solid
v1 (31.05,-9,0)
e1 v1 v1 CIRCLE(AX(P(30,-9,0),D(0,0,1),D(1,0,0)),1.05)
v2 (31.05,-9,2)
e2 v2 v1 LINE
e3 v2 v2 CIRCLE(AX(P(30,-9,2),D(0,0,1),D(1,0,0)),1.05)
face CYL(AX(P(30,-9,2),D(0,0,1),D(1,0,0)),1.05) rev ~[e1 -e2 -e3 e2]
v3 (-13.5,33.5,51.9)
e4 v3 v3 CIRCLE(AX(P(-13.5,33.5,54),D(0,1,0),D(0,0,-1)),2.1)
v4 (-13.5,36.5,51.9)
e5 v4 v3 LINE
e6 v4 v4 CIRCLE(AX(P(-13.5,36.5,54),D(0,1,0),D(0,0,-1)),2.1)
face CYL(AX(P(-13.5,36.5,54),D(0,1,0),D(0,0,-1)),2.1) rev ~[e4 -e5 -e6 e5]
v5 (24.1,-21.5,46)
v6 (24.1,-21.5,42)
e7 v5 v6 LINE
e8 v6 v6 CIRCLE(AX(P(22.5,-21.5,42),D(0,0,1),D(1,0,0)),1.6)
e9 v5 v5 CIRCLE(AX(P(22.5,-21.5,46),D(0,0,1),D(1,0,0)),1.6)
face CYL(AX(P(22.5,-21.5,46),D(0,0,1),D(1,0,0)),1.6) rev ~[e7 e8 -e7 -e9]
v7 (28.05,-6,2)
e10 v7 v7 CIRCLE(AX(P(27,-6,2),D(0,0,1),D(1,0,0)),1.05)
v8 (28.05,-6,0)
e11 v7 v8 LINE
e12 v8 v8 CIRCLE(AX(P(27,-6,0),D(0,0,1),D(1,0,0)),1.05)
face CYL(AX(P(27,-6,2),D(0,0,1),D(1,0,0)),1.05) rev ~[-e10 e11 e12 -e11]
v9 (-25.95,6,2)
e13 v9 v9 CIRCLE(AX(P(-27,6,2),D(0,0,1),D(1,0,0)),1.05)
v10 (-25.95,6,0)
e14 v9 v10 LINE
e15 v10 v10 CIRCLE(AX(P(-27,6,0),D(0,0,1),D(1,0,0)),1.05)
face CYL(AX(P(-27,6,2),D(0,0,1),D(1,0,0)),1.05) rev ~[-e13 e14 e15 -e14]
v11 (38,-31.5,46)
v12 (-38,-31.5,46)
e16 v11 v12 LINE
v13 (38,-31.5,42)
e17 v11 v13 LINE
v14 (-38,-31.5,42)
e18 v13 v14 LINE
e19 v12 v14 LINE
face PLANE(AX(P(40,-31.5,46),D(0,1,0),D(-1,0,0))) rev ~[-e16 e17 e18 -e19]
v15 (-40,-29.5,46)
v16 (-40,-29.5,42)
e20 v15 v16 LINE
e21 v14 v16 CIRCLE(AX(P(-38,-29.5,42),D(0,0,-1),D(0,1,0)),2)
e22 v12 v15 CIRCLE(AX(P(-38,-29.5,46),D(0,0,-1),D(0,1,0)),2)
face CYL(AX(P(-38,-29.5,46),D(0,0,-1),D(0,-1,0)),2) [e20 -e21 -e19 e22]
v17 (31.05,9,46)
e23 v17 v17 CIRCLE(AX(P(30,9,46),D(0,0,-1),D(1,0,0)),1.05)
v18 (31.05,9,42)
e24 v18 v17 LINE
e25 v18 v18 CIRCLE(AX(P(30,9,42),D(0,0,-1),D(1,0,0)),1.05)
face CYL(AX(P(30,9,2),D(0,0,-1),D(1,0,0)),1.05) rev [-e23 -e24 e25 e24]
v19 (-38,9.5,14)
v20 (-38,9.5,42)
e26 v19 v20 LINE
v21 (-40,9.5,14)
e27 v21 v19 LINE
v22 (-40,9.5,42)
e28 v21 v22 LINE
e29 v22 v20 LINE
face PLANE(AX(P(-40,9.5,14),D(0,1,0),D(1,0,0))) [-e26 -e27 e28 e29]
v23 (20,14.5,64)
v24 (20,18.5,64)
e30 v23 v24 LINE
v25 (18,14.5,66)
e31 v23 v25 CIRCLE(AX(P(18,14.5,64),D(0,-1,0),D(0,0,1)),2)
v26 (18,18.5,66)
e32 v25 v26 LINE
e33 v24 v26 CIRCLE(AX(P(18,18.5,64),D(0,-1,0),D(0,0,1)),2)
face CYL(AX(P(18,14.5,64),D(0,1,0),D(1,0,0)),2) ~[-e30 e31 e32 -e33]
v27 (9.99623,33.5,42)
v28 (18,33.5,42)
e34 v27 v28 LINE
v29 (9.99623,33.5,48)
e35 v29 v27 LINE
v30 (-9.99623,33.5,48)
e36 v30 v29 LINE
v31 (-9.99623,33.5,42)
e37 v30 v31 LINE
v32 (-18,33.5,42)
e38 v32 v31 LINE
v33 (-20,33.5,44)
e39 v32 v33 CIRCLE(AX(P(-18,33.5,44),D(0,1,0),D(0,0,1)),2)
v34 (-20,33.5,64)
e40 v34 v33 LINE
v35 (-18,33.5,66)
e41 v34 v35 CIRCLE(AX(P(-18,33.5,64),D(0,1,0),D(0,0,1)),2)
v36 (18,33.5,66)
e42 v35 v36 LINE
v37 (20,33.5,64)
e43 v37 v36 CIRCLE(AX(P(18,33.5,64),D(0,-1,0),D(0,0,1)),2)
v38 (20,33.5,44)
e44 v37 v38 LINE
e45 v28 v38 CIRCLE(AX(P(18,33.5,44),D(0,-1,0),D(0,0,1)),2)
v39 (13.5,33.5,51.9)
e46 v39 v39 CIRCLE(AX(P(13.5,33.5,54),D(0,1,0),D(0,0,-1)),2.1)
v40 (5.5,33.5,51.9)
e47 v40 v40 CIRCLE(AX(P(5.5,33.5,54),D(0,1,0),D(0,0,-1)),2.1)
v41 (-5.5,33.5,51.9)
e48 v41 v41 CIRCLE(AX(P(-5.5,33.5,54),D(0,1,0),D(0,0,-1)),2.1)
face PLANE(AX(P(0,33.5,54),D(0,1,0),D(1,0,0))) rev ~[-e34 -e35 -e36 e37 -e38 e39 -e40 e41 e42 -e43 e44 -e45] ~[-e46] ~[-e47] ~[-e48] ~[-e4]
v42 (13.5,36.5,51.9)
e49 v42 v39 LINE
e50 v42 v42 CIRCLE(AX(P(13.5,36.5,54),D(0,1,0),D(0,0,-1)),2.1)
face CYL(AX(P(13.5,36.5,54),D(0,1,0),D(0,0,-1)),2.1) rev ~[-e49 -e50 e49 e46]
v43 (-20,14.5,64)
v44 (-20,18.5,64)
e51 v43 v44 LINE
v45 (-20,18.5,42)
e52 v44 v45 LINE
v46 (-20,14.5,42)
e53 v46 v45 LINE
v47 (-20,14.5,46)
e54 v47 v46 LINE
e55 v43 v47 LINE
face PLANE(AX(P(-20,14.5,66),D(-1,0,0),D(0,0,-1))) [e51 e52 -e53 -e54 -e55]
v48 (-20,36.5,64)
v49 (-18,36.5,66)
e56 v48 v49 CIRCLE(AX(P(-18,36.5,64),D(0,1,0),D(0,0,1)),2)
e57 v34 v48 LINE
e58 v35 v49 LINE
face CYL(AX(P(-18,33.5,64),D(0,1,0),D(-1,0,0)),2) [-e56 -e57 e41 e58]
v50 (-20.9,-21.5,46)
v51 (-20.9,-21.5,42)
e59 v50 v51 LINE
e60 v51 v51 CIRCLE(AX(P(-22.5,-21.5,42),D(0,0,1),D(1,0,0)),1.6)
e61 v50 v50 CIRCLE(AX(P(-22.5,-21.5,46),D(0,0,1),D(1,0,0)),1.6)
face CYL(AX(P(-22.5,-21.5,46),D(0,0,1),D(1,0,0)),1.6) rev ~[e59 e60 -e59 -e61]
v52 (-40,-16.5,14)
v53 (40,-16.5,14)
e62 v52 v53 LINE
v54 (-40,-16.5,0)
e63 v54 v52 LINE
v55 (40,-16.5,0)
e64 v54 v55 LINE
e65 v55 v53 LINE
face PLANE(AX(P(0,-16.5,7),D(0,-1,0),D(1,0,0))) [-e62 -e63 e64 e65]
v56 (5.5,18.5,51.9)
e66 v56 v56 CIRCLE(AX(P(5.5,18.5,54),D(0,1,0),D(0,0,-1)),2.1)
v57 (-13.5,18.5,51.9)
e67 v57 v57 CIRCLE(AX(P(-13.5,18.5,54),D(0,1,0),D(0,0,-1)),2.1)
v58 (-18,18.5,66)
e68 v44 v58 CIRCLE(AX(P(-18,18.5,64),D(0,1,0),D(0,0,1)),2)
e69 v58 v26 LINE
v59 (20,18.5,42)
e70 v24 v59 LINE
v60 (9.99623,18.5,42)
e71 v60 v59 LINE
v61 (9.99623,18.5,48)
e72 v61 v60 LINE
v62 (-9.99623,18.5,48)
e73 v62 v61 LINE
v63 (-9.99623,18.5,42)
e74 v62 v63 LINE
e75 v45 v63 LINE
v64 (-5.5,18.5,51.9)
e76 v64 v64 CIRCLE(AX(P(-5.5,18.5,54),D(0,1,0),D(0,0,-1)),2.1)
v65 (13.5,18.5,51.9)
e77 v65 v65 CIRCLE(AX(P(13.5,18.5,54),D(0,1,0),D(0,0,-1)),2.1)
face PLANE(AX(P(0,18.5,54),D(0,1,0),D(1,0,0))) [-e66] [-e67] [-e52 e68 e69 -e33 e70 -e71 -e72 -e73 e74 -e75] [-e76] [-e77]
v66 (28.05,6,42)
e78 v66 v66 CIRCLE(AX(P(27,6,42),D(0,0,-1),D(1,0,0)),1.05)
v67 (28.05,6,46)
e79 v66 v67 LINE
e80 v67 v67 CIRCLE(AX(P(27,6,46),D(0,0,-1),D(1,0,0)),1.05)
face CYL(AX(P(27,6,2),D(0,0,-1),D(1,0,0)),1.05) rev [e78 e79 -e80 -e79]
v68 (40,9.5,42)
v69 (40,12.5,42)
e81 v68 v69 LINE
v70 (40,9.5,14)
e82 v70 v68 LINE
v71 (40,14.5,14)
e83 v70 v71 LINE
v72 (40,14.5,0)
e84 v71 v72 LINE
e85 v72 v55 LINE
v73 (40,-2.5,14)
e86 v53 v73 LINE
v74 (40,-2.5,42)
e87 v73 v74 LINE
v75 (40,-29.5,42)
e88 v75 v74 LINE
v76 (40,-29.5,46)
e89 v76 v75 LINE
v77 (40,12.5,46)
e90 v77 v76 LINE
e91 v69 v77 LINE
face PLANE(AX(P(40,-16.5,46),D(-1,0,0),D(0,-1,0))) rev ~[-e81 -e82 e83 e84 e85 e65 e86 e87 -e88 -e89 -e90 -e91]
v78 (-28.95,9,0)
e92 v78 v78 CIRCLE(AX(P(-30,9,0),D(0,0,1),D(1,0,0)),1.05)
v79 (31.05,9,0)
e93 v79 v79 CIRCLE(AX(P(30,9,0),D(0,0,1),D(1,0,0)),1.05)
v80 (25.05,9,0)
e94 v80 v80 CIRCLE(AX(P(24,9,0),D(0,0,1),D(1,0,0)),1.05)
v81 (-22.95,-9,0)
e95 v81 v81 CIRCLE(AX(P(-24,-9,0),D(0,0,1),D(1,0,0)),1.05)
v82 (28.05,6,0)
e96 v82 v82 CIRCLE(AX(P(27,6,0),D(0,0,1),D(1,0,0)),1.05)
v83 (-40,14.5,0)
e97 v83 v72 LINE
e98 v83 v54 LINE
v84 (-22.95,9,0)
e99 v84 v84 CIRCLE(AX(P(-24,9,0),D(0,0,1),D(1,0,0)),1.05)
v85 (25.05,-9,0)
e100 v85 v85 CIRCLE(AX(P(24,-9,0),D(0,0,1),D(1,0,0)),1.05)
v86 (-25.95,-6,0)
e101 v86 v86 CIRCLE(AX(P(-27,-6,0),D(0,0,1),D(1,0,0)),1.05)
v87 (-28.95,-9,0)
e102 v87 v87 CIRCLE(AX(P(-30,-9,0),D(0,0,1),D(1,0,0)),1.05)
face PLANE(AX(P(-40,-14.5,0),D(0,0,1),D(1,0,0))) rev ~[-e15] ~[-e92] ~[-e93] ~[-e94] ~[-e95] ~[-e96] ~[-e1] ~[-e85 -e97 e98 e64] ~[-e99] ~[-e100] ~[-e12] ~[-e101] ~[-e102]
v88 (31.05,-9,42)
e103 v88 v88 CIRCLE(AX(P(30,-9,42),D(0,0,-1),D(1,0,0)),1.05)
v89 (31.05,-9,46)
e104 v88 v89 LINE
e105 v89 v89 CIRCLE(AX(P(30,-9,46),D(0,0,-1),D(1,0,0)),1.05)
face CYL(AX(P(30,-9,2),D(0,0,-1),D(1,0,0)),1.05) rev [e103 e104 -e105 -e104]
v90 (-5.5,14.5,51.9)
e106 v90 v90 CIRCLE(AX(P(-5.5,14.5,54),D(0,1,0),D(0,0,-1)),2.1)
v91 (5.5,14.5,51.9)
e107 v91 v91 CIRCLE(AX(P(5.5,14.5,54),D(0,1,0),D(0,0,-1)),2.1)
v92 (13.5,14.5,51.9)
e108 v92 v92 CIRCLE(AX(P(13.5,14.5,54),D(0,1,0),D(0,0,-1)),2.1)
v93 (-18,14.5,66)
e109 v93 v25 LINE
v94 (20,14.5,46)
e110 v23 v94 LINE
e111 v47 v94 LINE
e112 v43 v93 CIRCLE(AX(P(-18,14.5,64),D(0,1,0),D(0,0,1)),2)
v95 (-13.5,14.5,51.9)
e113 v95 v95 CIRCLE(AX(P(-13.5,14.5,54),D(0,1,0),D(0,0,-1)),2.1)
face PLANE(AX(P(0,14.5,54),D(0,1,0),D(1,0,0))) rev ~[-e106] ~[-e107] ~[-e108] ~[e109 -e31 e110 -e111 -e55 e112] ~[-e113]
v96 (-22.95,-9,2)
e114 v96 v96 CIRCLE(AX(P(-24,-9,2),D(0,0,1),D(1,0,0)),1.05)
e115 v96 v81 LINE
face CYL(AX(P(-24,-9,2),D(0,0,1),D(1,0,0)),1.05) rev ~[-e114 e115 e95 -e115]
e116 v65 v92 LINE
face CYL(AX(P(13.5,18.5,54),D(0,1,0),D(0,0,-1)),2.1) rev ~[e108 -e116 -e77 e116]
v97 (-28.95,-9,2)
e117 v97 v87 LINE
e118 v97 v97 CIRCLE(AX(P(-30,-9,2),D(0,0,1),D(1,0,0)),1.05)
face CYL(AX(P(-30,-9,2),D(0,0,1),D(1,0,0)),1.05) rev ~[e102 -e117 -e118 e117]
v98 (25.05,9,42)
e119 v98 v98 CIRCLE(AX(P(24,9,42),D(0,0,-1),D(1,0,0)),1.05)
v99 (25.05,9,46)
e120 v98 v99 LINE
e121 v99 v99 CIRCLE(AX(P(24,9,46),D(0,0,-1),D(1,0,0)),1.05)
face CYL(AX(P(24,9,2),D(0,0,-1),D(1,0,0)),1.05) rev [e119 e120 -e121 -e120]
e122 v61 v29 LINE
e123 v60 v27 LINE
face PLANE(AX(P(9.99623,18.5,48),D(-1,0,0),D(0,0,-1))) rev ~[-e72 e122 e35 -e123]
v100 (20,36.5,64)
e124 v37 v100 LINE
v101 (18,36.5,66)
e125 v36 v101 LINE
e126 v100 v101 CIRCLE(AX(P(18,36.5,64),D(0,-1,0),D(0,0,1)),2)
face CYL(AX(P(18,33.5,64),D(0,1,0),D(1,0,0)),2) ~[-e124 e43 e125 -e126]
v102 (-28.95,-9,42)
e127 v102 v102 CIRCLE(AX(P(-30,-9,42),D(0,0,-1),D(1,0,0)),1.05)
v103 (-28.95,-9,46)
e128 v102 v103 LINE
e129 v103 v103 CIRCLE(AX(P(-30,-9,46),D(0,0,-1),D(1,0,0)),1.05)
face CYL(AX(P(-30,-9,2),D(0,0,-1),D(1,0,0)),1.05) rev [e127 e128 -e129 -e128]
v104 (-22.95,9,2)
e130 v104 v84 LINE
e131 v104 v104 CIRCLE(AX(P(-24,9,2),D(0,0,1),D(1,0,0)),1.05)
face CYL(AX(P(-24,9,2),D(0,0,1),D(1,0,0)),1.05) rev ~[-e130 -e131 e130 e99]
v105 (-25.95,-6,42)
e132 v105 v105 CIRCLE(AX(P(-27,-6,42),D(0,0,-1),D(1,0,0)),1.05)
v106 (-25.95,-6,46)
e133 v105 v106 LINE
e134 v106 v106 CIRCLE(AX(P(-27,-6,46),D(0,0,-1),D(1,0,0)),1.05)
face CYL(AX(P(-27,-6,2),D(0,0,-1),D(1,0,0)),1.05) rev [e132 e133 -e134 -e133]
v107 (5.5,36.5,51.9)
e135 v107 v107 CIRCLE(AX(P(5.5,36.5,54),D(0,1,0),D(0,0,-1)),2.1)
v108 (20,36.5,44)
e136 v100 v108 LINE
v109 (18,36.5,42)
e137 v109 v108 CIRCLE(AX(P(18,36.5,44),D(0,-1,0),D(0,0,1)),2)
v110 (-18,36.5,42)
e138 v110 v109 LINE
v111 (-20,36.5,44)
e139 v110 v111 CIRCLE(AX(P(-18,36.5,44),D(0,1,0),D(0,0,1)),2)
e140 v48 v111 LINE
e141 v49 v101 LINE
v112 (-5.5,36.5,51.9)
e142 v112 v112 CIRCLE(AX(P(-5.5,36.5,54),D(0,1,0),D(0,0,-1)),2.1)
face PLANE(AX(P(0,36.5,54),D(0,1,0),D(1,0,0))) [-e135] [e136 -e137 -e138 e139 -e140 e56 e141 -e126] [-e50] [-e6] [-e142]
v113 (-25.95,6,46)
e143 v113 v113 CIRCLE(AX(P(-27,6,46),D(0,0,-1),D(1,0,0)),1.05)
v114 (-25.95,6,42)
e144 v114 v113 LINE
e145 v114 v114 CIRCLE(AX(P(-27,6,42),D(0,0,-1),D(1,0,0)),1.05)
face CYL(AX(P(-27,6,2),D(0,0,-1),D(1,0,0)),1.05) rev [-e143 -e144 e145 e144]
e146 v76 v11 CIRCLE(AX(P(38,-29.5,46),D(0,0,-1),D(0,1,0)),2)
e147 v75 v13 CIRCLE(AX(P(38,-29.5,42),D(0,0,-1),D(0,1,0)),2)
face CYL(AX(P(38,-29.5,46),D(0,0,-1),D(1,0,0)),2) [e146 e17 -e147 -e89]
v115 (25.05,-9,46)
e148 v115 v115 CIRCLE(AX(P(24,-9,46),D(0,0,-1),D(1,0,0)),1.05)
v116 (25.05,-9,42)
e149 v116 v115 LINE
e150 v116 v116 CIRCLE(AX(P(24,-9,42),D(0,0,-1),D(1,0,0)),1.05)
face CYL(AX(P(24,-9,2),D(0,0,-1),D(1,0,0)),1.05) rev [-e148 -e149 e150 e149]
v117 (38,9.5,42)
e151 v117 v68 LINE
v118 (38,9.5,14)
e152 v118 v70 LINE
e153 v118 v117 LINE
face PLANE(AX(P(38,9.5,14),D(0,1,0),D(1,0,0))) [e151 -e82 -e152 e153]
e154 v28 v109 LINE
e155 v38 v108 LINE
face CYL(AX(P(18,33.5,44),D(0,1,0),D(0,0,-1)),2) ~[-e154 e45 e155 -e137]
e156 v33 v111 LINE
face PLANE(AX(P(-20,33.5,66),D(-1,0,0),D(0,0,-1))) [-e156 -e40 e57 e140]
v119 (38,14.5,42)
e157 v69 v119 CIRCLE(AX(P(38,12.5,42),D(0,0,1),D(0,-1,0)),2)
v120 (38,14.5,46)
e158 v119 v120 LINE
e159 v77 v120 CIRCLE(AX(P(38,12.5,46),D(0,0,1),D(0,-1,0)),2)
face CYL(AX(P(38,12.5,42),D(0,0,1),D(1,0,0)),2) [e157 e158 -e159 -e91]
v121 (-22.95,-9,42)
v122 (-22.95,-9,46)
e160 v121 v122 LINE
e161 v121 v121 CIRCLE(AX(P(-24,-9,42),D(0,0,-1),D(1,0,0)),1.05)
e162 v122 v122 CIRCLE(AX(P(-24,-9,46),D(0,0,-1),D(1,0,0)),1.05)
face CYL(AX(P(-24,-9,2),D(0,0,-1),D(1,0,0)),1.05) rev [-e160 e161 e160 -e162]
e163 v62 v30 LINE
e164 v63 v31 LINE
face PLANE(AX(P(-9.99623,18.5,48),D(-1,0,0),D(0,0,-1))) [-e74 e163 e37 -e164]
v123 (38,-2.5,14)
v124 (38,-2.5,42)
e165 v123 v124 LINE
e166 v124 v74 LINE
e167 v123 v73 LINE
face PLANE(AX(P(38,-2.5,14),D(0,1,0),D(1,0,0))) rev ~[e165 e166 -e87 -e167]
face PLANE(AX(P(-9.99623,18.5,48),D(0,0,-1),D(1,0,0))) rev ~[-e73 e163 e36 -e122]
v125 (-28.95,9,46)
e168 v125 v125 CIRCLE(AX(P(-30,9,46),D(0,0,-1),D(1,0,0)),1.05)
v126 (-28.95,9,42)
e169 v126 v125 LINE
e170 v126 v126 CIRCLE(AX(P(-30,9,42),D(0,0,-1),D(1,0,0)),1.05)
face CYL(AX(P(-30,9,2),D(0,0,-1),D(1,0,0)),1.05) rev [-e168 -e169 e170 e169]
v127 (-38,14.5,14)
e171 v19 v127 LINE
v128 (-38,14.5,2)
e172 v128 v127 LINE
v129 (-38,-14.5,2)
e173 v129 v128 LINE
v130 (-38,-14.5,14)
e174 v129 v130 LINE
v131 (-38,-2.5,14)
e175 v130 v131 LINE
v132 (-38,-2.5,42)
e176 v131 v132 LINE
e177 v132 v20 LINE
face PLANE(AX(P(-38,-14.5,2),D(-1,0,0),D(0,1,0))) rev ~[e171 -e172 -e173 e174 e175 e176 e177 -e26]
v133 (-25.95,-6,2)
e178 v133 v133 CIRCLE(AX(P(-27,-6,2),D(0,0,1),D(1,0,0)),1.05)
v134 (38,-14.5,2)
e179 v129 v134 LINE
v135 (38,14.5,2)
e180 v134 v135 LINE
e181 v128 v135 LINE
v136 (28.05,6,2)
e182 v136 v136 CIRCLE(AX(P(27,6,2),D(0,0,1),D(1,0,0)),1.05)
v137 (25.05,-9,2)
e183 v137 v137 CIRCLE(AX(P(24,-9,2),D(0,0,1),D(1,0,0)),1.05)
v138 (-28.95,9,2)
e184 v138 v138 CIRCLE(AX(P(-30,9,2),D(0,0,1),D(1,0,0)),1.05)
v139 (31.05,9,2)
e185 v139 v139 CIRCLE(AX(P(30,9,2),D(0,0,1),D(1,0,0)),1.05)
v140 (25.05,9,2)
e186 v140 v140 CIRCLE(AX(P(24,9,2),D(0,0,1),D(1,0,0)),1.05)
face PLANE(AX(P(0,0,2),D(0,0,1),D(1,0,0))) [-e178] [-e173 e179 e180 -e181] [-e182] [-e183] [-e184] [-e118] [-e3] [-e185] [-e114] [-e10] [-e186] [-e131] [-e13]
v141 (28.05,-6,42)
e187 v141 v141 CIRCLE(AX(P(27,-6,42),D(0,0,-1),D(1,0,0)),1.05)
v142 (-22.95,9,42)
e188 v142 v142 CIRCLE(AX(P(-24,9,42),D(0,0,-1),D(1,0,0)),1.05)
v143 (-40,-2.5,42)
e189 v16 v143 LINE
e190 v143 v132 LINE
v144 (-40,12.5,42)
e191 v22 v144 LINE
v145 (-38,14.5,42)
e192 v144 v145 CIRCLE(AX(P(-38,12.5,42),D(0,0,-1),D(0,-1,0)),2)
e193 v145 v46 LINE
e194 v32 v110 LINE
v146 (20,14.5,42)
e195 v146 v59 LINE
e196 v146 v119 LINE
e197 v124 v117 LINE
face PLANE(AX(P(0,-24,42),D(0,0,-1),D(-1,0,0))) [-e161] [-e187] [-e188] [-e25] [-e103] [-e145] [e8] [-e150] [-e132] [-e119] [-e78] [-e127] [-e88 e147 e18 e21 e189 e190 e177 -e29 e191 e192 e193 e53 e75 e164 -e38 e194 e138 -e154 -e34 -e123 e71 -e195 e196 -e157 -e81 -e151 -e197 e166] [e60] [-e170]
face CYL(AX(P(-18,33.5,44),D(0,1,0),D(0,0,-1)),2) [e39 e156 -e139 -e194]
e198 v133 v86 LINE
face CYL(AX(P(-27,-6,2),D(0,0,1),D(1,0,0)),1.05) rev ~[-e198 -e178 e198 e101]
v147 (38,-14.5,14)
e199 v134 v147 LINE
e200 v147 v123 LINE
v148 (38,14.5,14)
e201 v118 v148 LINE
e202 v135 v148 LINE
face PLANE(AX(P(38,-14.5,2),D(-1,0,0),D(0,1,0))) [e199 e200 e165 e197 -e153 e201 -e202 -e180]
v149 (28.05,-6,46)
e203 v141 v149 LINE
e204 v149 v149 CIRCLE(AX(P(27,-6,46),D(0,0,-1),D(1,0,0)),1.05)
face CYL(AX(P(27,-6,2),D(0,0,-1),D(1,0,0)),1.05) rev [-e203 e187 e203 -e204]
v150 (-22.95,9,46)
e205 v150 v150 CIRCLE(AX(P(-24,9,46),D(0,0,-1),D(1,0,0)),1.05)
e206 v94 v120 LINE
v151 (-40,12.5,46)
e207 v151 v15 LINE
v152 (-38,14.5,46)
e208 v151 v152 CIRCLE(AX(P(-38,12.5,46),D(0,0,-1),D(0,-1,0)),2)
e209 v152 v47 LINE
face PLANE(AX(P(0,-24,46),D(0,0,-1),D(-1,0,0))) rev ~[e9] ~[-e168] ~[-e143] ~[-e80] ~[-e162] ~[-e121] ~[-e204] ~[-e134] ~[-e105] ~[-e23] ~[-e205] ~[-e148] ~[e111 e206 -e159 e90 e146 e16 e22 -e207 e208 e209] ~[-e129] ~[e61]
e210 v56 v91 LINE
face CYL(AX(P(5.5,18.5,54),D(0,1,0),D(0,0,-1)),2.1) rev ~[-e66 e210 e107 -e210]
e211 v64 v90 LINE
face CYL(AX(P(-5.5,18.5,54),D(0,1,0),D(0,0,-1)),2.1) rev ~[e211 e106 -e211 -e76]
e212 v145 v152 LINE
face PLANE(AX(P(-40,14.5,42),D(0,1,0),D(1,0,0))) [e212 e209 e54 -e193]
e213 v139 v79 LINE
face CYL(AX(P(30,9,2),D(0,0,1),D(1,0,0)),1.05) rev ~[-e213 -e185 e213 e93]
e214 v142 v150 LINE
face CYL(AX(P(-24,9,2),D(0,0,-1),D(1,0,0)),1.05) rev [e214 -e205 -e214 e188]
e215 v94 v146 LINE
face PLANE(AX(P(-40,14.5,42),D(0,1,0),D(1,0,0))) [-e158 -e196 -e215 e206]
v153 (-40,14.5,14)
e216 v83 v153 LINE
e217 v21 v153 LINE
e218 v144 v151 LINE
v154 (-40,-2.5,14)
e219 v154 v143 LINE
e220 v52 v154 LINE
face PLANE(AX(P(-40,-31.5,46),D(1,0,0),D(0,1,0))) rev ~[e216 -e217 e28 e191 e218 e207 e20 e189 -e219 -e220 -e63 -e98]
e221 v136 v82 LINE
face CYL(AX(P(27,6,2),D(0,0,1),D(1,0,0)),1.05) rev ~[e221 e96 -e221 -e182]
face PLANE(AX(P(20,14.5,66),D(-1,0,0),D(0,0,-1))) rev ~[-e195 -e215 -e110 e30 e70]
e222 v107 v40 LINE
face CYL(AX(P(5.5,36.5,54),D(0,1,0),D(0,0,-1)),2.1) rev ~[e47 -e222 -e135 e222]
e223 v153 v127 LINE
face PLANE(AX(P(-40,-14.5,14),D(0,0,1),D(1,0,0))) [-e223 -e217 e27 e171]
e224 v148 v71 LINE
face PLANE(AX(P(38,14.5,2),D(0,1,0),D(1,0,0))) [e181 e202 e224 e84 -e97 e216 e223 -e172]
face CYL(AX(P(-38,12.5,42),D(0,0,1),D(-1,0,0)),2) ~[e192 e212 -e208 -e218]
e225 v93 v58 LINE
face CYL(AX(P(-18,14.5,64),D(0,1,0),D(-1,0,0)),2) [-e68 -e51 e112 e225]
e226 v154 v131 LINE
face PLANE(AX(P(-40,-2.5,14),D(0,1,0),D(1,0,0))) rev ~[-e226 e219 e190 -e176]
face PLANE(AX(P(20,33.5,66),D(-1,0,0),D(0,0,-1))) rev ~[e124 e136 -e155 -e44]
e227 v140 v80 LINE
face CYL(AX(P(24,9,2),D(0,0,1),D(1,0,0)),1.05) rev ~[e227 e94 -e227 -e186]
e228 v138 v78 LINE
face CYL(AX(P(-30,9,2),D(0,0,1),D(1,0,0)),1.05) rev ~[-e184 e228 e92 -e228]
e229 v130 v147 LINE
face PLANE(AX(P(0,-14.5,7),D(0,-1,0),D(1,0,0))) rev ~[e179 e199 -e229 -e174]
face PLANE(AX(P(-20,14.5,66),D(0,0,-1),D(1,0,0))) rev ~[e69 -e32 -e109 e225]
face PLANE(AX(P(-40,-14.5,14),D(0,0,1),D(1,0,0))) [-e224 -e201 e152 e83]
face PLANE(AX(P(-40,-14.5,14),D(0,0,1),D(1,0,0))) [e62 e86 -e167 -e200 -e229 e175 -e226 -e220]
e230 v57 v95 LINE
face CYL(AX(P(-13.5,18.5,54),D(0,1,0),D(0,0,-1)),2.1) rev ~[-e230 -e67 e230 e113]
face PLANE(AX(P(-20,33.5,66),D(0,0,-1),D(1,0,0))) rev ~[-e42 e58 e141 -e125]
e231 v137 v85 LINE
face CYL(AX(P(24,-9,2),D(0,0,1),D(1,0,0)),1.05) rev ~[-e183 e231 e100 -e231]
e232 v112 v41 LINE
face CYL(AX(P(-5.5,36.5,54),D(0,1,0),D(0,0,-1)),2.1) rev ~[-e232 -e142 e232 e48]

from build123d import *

# Parameters (mm, degrees)
SKETCH_1_W                      = 80
SKETCH_1_H                      = 29
EXTRUDE_1_DEPTH                 = 2
SKETCH_4_W                      = 2
SKETCH_4_H                      = 29
EXTRUDE_2_DEPTH                 = 12
SKETCH_6_W                      = 80
SKETCH_6_H                      = 14
EXTRUDE_4_DEPTH                 = 2
SKETCH_7_W                      = 2
SKETCH_7_H                      = 12
EXTRUDE_5_DEPTH                 = 28
SKETCH_8_W                      = 80
SKETCH_8_H                      = 31
EXTRUDE_6_DEPTH                 = 4
SKETCH_2_R                      = 1.05
CUT_EXTRUDE_1_DEPTH             = 62.711020086
CUT_EXTRUDE_1_DIRECTION_2_REACH = 63.711
SKETCH_12_W                     = 40
SKETCH_12_H                     = 24
EXTRUDE_9_DEPTH                 = 4
CUT_EXTRUDE_3_REACH             = 86.741
SKETCH_13_R                     = 2.1
CUT_EXTRUDE_3_DIRECTION_2_DEPTH = 85.74078121
SKETCH_14_W                     = 19.992460882
SKETCH_14_H                     = 6
EXTRUDE_10_DEPTH                = 15
SKETCH_15_W                     = 40
SKETCH_15_H                     = 24
EXTRUDE_11_DEPTH                = 3
SKETCH_16_R                     = 2.1
CUT_EXTRUDE_4_DEPTH             = 3
EXTRUDE_14_DEPTH                = 4
SKETCH_22_R                     = 1.6
CUT_EXTRUDE_5_DEPTH             = 4
FILLET_1_R                      = 2


with BuildPart() as part:
    # 草图1 → 凸台-拉伸1 (new body)
    with BuildSketch(Plane.XY):
        Rectangle(SKETCH_1_W, SKETCH_1_H)
    extrude(amount=EXTRUDE_1_DEPTH)

    # 草图4 → 凸台-拉伸2 (add)
    with BuildSketch(Plane.XY.offset(2)):
        with Locations((39, 0)):
            Rectangle(SKETCH_4_W, SKETCH_4_H)
        with Locations((-39, 0)):
            Rectangle(SKETCH_4_W, SKETCH_4_H)
    extrude(amount=EXTRUDE_2_DEPTH)

    # 草图6 → 凸台-拉伸4 (add)
    with BuildSketch(Plane.XZ.offset(14.5)):
        with Locations((0, 7)):
            Rectangle(SKETCH_6_W, SKETCH_6_H)
    extrude(amount=EXTRUDE_4_DEPTH)

    # 草图7 → 凸台-拉伸5 (add)
    with BuildSketch(Plane.XY.offset(14)):
        with Locations((-39, 3.5)):
            Rectangle(SKETCH_7_W, SKETCH_7_H)
        with Locations((39, 3.5)):
            Rectangle(SKETCH_7_W, SKETCH_7_H)
    extrude(amount=EXTRUDE_5_DEPTH)

    # 草图8 → 凸台-拉伸6 (add)
    with BuildSketch(Plane.XY.offset(42)):
        with Locations((0, -1)):
            Rectangle(SKETCH_8_W, SKETCH_8_H)
    extrude(amount=EXTRUDE_6_DEPTH)

    # 草图2 → 切除-拉伸1 (cut)
    with BuildSketch(Plane.XY.offset(2)):
        with Locations((-30, 9)):
            Circle(SKETCH_2_R)
        with Locations((-24, 9)):
            Circle(SKETCH_2_R)
        with Locations((-27, 6)):
            Circle(SKETCH_2_R)
        with Locations((-27, -6)):
            Circle(SKETCH_2_R)
        with Locations((-24, -9)):
            Circle(SKETCH_2_R)
        with Locations((-30, -9)):
            Circle(SKETCH_2_R)
        with Locations((27, -6)):
            Circle(SKETCH_2_R)
        with Locations((30, -9)):
            Circle(SKETCH_2_R)
        with Locations((24, -9)):
            Circle(SKETCH_2_R)
        with Locations((27, 6)):
            Circle(SKETCH_2_R)
        with Locations((30, 9)):
            Circle(SKETCH_2_R)
        with Locations((24, 9)):
            Circle(SKETCH_2_R)
    extrude(amount=-CUT_EXTRUDE_1_DEPTH, mode=Mode.SUBTRACT)

    # 切除-拉伸1 direction 2: up to this face of the body (flat: up to its plane)
    cut_extrude_1_direction_2_end = Plane(part.part.faces().sort_by_distance((0, -1, 46))[0])
    # 草图2 → 切除-拉伸1 direction 2 (cut, up to the picked face)
    with BuildSketch(Plane.XY.offset(2), mode=Mode.PRIVATE) as cut_extrude_1_direction_2_sk1:
        with Locations((-30, 9)):
            Circle(SKETCH_2_R)
    cut_extrude_1_direction_2_tool1 = split(extrude(cut_extrude_1_direction_2_sk1.sketch, amount=CUT_EXTRUDE_1_DIRECTION_2_REACH, mode=Mode.PRIVATE), bisect_by=cut_extrude_1_direction_2_end, keep=Keep.BOTH, mode=Mode.PRIVATE)
    # 草图2 → 切除-拉伸1 direction 2 (cut, up to the picked face)
    with BuildSketch(Plane.XY.offset(2), mode=Mode.PRIVATE) as cut_extrude_1_direction_2_sk2:
        with Locations((-24, 9)):
            Circle(SKETCH_2_R)
    cut_extrude_1_direction_2_tool2 = split(extrude(cut_extrude_1_direction_2_sk2.sketch, amount=CUT_EXTRUDE_1_DIRECTION_2_REACH, mode=Mode.PRIVATE), bisect_by=cut_extrude_1_direction_2_end, keep=Keep.BOTH, mode=Mode.PRIVATE)
    # 草图2 → 切除-拉伸1 direction 2 (cut, up to the picked face)
    with BuildSketch(Plane.XY.offset(2), mode=Mode.PRIVATE) as cut_extrude_1_direction_2_sk3:
        with Locations((-27, 6)):
            Circle(SKETCH_2_R)
    cut_extrude_1_direction_2_tool3 = split(extrude(cut_extrude_1_direction_2_sk3.sketch, amount=CUT_EXTRUDE_1_DIRECTION_2_REACH, mode=Mode.PRIVATE), bisect_by=cut_extrude_1_direction_2_end, keep=Keep.BOTH, mode=Mode.PRIVATE)
    # 草图2 → 切除-拉伸1 direction 2 (cut, up to the picked face)
    with BuildSketch(Plane.XY.offset(2), mode=Mode.PRIVATE) as cut_extrude_1_direction_2_sk4:
        with Locations((-27, -6)):
            Circle(SKETCH_2_R)
    cut_extrude_1_direction_2_tool4 = split(extrude(cut_extrude_1_direction_2_sk4.sketch, amount=CUT_EXTRUDE_1_DIRECTION_2_REACH, mode=Mode.PRIVATE), bisect_by=cut_extrude_1_direction_2_end, keep=Keep.BOTH, mode=Mode.PRIVATE)
    # 草图2 → 切除-拉伸1 direction 2 (cut, up to the picked face)
    with BuildSketch(Plane.XY.offset(2), mode=Mode.PRIVATE) as cut_extrude_1_direction_2_sk5:
        with Locations((-24, -9)):
            Circle(SKETCH_2_R)
    cut_extrude_1_direction_2_tool5 = split(extrude(cut_extrude_1_direction_2_sk5.sketch, amount=CUT_EXTRUDE_1_DIRECTION_2_REACH, mode=Mode.PRIVATE), bisect_by=cut_extrude_1_direction_2_end, keep=Keep.BOTH, mode=Mode.PRIVATE)
    # 草图2 → 切除-拉伸1 direction 2 (cut, up to the picked face)
    with BuildSketch(Plane.XY.offset(2), mode=Mode.PRIVATE) as cut_extrude_1_direction_2_sk6:
        with Locations((-30, -9)):
            Circle(SKETCH_2_R)
    cut_extrude_1_direction_2_tool6 = split(extrude(cut_extrude_1_direction_2_sk6.sketch, amount=CUT_EXTRUDE_1_DIRECTION_2_REACH, mode=Mode.PRIVATE), bisect_by=cut_extrude_1_direction_2_end, keep=Keep.BOTH, mode=Mode.PRIVATE)
    # 草图2 → 切除-拉伸1 direction 2 (cut, up to the picked face)
    with BuildSketch(Plane.XY.offset(2), mode=Mode.PRIVATE) as cut_extrude_1_direction_2_sk7:
        with Locations((27, -6)):
            Circle(SKETCH_2_R)
    cut_extrude_1_direction_2_tool7 = split(extrude(cut_extrude_1_direction_2_sk7.sketch, amount=CUT_EXTRUDE_1_DIRECTION_2_REACH, mode=Mode.PRIVATE), bisect_by=cut_extrude_1_direction_2_end, keep=Keep.BOTH, mode=Mode.PRIVATE)
    # 草图2 → 切除-拉伸1 direction 2 (cut, up to the picked face)
    with BuildSketch(Plane.XY.offset(2), mode=Mode.PRIVATE) as cut_extrude_1_direction_2_sk8:
        with Locations((30, -9)):
            Circle(SKETCH_2_R)
    cut_extrude_1_direction_2_tool8 = split(extrude(cut_extrude_1_direction_2_sk8.sketch, amount=CUT_EXTRUDE_1_DIRECTION_2_REACH, mode=Mode.PRIVATE), bisect_by=cut_extrude_1_direction_2_end, keep=Keep.BOTH, mode=Mode.PRIVATE)
    # 草图2 → 切除-拉伸1 direction 2 (cut, up to the picked face)
    with BuildSketch(Plane.XY.offset(2), mode=Mode.PRIVATE) as cut_extrude_1_direction_2_sk9:
        with Locations((24, -9)):
            Circle(SKETCH_2_R)
    cut_extrude_1_direction_2_tool9 = split(extrude(cut_extrude_1_direction_2_sk9.sketch, amount=CUT_EXTRUDE_1_DIRECTION_2_REACH, mode=Mode.PRIVATE), bisect_by=cut_extrude_1_direction_2_end, keep=Keep.BOTH, mode=Mode.PRIVATE)
    # 草图2 → 切除-拉伸1 direction 2 (cut, up to the picked face)
    with BuildSketch(Plane.XY.offset(2), mode=Mode.PRIVATE) as cut_extrude_1_direction_2_sk10:
        with Locations((27, 6)):
            Circle(SKETCH_2_R)
    cut_extrude_1_direction_2_tool10 = split(extrude(cut_extrude_1_direction_2_sk10.sketch, amount=CUT_EXTRUDE_1_DIRECTION_2_REACH, mode=Mode.PRIVATE), bisect_by=cut_extrude_1_direction_2_end, keep=Keep.BOTH, mode=Mode.PRIVATE)
    # 草图2 → 切除-拉伸1 direction 2 (cut, up to the picked face)
    with BuildSketch(Plane.XY.offset(2), mode=Mode.PRIVATE) as cut_extrude_1_direction_2_sk11:
        with Locations((30, 9)):
            Circle(SKETCH_2_R)
    cut_extrude_1_direction_2_tool11 = split(extrude(cut_extrude_1_direction_2_sk11.sketch, amount=CUT_EXTRUDE_1_DIRECTION_2_REACH, mode=Mode.PRIVATE), bisect_by=cut_extrude_1_direction_2_end, keep=Keep.BOTH, mode=Mode.PRIVATE)
    # 草图2 → 切除-拉伸1 direction 2 (cut, up to the picked face)
    with BuildSketch(Plane.XY.offset(2), mode=Mode.PRIVATE) as cut_extrude_1_direction_2_sk12:
        with Locations((24, 9)):
            Circle(SKETCH_2_R)
    cut_extrude_1_direction_2_tool12 = split(extrude(cut_extrude_1_direction_2_sk12.sketch, amount=CUT_EXTRUDE_1_DIRECTION_2_REACH, mode=Mode.PRIVATE), bisect_by=cut_extrude_1_direction_2_end, keep=Keep.BOTH, mode=Mode.PRIVATE)
    add(cut_extrude_1_direction_2_tool1.solids().sort_by(Axis((-30, 9, 2), (0, 0, 1)))[0], mode=Mode.SUBTRACT)
    add(cut_extrude_1_direction_2_tool2.solids().sort_by(Axis((-24, 9, 2), (0, 0, 1)))[0], mode=Mode.SUBTRACT)
    add(cut_extrude_1_direction_2_tool3.solids().sort_by(Axis((-27, 6, 2), (0, 0, 1)))[0], mode=Mode.SUBTRACT)
    add(cut_extrude_1_direction_2_tool4.solids().sort_by(Axis((-27, -6, 2), (0, 0, 1)))[0], mode=Mode.SUBTRACT)
    add(cut_extrude_1_direction_2_tool5.solids().sort_by(Axis((-24, -9, 2), (0, 0, 1)))[0], mode=Mode.SUBTRACT)
    add(cut_extrude_1_direction_2_tool6.solids().sort_by(Axis((-30, -9, 2), (0, 0, 1)))[0], mode=Mode.SUBTRACT)
    add(cut_extrude_1_direction_2_tool7.solids().sort_by(Axis((27, -6, 2), (0, 0, 1)))[0], mode=Mode.SUBTRACT)
    add(cut_extrude_1_direction_2_tool8.solids().sort_by(Axis((30, -9, 2), (0, 0, 1)))[0], mode=Mode.SUBTRACT)
    add(cut_extrude_1_direction_2_tool9.solids().sort_by(Axis((24, -9, 2), (0, 0, 1)))[0], mode=Mode.SUBTRACT)
    add(cut_extrude_1_direction_2_tool10.solids().sort_by(Axis((27, 6, 2), (0, 0, 1)))[0], mode=Mode.SUBTRACT)
    add(cut_extrude_1_direction_2_tool11.solids().sort_by(Axis((30, 9, 2), (0, 0, 1)))[0], mode=Mode.SUBTRACT)
    add(cut_extrude_1_direction_2_tool12.solids().sort_by(Axis((24, 9, 2), (0, 0, 1)))[0], mode=Mode.SUBTRACT)

    # 草图12 → 凸台-拉伸9 (add)
    with BuildSketch(Plane(origin=(0, 14.5, 0), x_dir=(1, 0, 0), z_dir=(0, 1, 0))):
        with Locations((0, -54)):
            Rectangle(SKETCH_12_W, SKETCH_12_H)
    extrude(amount=EXTRUDE_9_DEPTH)

    # 草图13 → 切除-拉伸3 (cut, up to next)
    with BuildSketch(Plane(origin=(0, 18.5, 0), x_dir=(1, 0, 0), z_dir=(0, 1, 0)), mode=Mode.PRIVATE) as cut_extrude_3_sk1:
        with Locations(Location((-13.5, -54, 0), (0, 0, 90))):
            Circle(SKETCH_13_R)
    cut_extrude_3_tool1 = extrude(cut_extrude_3_sk1.sketch, amount=-CUT_EXTRUDE_3_REACH, mode=Mode.PRIVATE) & part.part
    # 草图13 → 切除-拉伸3 (cut, up to next)
    with BuildSketch(Plane(origin=(0, 18.5, 0), x_dir=(1, 0, 0), z_dir=(0, 1, 0)), mode=Mode.PRIVATE) as cut_extrude_3_sk2:
        with Locations(Location((-5.5, -54, 0), (0, 0, 90))):
            Circle(SKETCH_13_R)
    cut_extrude_3_tool2 = extrude(cut_extrude_3_sk2.sketch, amount=-CUT_EXTRUDE_3_REACH, mode=Mode.PRIVATE) & part.part
    # 草图13 → 切除-拉伸3 (cut, up to next)
    with BuildSketch(Plane(origin=(0, 18.5, 0), x_dir=(1, 0, 0), z_dir=(0, 1, 0)), mode=Mode.PRIVATE) as cut_extrude_3_sk3:
        with Locations(Location((5.5, -54, 0), (0, 0, 90))):
            Circle(SKETCH_13_R)
    cut_extrude_3_tool3 = extrude(cut_extrude_3_sk3.sketch, amount=-CUT_EXTRUDE_3_REACH, mode=Mode.PRIVATE) & part.part
    # 草图13 → 切除-拉伸3 (cut, up to next)
    with BuildSketch(Plane(origin=(0, 18.5, 0), x_dir=(1, 0, 0), z_dir=(0, 1, 0)), mode=Mode.PRIVATE) as cut_extrude_3_sk4:
        with Locations(Location((13.5, -54, 0), (0, 0, 90))):
            Circle(SKETCH_13_R)
    cut_extrude_3_tool4 = extrude(cut_extrude_3_sk4.sketch, amount=-CUT_EXTRUDE_3_REACH, mode=Mode.PRIVATE) & part.part
    add(cut_extrude_3_tool1.solids().sort_by_distance((-13.5, 18.5, 54))[0], mode=Mode.SUBTRACT)
    add(cut_extrude_3_tool2.solids().sort_by_distance((-5.5, 18.5, 54))[0], mode=Mode.SUBTRACT)
    add(cut_extrude_3_tool3.solids().sort_by_distance((5.5, 18.5, 54))[0], mode=Mode.SUBTRACT)
    add(cut_extrude_3_tool4.solids().sort_by_distance((13.5, 18.5, 54))[0], mode=Mode.SUBTRACT)

    # 草图13 → 切除-拉伸3 direction 2 (cut)
    with BuildSketch(Plane(origin=(0, 18.5, 0), x_dir=(1, 0, 0), z_dir=(0, 1, 0))):
        with Locations(Location((-13.5, -54, 0), (0, 0, 90))):
            Circle(SKETCH_13_R)
        with Locations(Location((-5.5, -54, 0), (0, 0, 90))):
            Circle(SKETCH_13_R)
        with Locations(Location((5.5, -54, 0), (0, 0, 90))):
            Circle(SKETCH_13_R)
        with Locations(Location((13.5, -54, 0), (0, 0, 90))):
            Circle(SKETCH_13_R)
    extrude(amount=CUT_EXTRUDE_3_DIRECTION_2_DEPTH, mode=Mode.SUBTRACT)

    # 草图14 → 凸台-拉伸10 (add)
    with BuildSketch(Plane(origin=(0, 18.5, 0), x_dir=(1, 0, 0), z_dir=(0, 1, 0))):
        with Locations((0, -45)):
            Rectangle(SKETCH_14_W, SKETCH_14_H)
    extrude(amount=EXTRUDE_10_DEPTH)

    # 草图15 → 凸台-拉伸11 (add)
    with BuildSketch(Plane(origin=(0, 33.5, 0), x_dir=(1, 0, 0), z_dir=(0, 1, 0))):
        with Locations((0, -54)):
            Rectangle(SKETCH_15_W, SKETCH_15_H)
    extrude(amount=EXTRUDE_11_DEPTH)

    # 草图16 → 切除-拉伸4 (cut)
    with BuildSketch(Plane(origin=(0, 36.5, 0), x_dir=(1, 0, 0), z_dir=(0, 1, 0))):
        with Locations(Location((-13.5, -54, 0), (0, 0, 90))):
            Circle(SKETCH_16_R)
        with Locations(Location((-5.5, -54, 0), (0, 0, 90))):
            Circle(SKETCH_16_R)
        with Locations(Location((5.5, -54, 0), (0, 0, 90))):
            Circle(SKETCH_16_R)
        with Locations(Location((13.5, -54, 0), (0, 0, 90))):
            Circle(SKETCH_16_R)
    extrude(amount=-CUT_EXTRUDE_4_DEPTH, mode=Mode.SUBTRACT)

    # 草图21 → 凸台-拉伸14 (add)
    with BuildSketch(Plane.XY.offset(46)):
        Polygon((0, -16.5), (40, -16.5), (40, -31.5), (-40, -31.5), (-40, -16.5), align=None)
    extrude(amount=-EXTRUDE_14_DEPTH)

    # 草图22 → 切除-拉伸5 (cut)
    with BuildSketch(Plane.XY.offset(46)):
        with Locations((-22.5, -21.5)):
            Circle(SKETCH_22_R)
        with Locations((22.5, -21.5)):
            Circle(SKETCH_22_R)
    extrude(amount=-CUT_EXTRUDE_5_DEPTH, mode=Mode.SUBTRACT)

    # 圆角1
    fillet_1_edges = [part.edges().sort_by_distance(p)[0] for p in [
        (-20, 16.5, 66),
        (20, 16.5, 66),
        (-20, 35, 42),
        (-20, 35, 66),
        (20, 35, 66),
        (20, 35, 42),
        (40, -31.5, 44),
        (-40, -31.5, 44),
        (-40, 14.5, 44),
        (40, 14.5, 44),
    ]]
    fillet(fillet_1_edges, radius=FILLET_1_R)


solid = part.part
